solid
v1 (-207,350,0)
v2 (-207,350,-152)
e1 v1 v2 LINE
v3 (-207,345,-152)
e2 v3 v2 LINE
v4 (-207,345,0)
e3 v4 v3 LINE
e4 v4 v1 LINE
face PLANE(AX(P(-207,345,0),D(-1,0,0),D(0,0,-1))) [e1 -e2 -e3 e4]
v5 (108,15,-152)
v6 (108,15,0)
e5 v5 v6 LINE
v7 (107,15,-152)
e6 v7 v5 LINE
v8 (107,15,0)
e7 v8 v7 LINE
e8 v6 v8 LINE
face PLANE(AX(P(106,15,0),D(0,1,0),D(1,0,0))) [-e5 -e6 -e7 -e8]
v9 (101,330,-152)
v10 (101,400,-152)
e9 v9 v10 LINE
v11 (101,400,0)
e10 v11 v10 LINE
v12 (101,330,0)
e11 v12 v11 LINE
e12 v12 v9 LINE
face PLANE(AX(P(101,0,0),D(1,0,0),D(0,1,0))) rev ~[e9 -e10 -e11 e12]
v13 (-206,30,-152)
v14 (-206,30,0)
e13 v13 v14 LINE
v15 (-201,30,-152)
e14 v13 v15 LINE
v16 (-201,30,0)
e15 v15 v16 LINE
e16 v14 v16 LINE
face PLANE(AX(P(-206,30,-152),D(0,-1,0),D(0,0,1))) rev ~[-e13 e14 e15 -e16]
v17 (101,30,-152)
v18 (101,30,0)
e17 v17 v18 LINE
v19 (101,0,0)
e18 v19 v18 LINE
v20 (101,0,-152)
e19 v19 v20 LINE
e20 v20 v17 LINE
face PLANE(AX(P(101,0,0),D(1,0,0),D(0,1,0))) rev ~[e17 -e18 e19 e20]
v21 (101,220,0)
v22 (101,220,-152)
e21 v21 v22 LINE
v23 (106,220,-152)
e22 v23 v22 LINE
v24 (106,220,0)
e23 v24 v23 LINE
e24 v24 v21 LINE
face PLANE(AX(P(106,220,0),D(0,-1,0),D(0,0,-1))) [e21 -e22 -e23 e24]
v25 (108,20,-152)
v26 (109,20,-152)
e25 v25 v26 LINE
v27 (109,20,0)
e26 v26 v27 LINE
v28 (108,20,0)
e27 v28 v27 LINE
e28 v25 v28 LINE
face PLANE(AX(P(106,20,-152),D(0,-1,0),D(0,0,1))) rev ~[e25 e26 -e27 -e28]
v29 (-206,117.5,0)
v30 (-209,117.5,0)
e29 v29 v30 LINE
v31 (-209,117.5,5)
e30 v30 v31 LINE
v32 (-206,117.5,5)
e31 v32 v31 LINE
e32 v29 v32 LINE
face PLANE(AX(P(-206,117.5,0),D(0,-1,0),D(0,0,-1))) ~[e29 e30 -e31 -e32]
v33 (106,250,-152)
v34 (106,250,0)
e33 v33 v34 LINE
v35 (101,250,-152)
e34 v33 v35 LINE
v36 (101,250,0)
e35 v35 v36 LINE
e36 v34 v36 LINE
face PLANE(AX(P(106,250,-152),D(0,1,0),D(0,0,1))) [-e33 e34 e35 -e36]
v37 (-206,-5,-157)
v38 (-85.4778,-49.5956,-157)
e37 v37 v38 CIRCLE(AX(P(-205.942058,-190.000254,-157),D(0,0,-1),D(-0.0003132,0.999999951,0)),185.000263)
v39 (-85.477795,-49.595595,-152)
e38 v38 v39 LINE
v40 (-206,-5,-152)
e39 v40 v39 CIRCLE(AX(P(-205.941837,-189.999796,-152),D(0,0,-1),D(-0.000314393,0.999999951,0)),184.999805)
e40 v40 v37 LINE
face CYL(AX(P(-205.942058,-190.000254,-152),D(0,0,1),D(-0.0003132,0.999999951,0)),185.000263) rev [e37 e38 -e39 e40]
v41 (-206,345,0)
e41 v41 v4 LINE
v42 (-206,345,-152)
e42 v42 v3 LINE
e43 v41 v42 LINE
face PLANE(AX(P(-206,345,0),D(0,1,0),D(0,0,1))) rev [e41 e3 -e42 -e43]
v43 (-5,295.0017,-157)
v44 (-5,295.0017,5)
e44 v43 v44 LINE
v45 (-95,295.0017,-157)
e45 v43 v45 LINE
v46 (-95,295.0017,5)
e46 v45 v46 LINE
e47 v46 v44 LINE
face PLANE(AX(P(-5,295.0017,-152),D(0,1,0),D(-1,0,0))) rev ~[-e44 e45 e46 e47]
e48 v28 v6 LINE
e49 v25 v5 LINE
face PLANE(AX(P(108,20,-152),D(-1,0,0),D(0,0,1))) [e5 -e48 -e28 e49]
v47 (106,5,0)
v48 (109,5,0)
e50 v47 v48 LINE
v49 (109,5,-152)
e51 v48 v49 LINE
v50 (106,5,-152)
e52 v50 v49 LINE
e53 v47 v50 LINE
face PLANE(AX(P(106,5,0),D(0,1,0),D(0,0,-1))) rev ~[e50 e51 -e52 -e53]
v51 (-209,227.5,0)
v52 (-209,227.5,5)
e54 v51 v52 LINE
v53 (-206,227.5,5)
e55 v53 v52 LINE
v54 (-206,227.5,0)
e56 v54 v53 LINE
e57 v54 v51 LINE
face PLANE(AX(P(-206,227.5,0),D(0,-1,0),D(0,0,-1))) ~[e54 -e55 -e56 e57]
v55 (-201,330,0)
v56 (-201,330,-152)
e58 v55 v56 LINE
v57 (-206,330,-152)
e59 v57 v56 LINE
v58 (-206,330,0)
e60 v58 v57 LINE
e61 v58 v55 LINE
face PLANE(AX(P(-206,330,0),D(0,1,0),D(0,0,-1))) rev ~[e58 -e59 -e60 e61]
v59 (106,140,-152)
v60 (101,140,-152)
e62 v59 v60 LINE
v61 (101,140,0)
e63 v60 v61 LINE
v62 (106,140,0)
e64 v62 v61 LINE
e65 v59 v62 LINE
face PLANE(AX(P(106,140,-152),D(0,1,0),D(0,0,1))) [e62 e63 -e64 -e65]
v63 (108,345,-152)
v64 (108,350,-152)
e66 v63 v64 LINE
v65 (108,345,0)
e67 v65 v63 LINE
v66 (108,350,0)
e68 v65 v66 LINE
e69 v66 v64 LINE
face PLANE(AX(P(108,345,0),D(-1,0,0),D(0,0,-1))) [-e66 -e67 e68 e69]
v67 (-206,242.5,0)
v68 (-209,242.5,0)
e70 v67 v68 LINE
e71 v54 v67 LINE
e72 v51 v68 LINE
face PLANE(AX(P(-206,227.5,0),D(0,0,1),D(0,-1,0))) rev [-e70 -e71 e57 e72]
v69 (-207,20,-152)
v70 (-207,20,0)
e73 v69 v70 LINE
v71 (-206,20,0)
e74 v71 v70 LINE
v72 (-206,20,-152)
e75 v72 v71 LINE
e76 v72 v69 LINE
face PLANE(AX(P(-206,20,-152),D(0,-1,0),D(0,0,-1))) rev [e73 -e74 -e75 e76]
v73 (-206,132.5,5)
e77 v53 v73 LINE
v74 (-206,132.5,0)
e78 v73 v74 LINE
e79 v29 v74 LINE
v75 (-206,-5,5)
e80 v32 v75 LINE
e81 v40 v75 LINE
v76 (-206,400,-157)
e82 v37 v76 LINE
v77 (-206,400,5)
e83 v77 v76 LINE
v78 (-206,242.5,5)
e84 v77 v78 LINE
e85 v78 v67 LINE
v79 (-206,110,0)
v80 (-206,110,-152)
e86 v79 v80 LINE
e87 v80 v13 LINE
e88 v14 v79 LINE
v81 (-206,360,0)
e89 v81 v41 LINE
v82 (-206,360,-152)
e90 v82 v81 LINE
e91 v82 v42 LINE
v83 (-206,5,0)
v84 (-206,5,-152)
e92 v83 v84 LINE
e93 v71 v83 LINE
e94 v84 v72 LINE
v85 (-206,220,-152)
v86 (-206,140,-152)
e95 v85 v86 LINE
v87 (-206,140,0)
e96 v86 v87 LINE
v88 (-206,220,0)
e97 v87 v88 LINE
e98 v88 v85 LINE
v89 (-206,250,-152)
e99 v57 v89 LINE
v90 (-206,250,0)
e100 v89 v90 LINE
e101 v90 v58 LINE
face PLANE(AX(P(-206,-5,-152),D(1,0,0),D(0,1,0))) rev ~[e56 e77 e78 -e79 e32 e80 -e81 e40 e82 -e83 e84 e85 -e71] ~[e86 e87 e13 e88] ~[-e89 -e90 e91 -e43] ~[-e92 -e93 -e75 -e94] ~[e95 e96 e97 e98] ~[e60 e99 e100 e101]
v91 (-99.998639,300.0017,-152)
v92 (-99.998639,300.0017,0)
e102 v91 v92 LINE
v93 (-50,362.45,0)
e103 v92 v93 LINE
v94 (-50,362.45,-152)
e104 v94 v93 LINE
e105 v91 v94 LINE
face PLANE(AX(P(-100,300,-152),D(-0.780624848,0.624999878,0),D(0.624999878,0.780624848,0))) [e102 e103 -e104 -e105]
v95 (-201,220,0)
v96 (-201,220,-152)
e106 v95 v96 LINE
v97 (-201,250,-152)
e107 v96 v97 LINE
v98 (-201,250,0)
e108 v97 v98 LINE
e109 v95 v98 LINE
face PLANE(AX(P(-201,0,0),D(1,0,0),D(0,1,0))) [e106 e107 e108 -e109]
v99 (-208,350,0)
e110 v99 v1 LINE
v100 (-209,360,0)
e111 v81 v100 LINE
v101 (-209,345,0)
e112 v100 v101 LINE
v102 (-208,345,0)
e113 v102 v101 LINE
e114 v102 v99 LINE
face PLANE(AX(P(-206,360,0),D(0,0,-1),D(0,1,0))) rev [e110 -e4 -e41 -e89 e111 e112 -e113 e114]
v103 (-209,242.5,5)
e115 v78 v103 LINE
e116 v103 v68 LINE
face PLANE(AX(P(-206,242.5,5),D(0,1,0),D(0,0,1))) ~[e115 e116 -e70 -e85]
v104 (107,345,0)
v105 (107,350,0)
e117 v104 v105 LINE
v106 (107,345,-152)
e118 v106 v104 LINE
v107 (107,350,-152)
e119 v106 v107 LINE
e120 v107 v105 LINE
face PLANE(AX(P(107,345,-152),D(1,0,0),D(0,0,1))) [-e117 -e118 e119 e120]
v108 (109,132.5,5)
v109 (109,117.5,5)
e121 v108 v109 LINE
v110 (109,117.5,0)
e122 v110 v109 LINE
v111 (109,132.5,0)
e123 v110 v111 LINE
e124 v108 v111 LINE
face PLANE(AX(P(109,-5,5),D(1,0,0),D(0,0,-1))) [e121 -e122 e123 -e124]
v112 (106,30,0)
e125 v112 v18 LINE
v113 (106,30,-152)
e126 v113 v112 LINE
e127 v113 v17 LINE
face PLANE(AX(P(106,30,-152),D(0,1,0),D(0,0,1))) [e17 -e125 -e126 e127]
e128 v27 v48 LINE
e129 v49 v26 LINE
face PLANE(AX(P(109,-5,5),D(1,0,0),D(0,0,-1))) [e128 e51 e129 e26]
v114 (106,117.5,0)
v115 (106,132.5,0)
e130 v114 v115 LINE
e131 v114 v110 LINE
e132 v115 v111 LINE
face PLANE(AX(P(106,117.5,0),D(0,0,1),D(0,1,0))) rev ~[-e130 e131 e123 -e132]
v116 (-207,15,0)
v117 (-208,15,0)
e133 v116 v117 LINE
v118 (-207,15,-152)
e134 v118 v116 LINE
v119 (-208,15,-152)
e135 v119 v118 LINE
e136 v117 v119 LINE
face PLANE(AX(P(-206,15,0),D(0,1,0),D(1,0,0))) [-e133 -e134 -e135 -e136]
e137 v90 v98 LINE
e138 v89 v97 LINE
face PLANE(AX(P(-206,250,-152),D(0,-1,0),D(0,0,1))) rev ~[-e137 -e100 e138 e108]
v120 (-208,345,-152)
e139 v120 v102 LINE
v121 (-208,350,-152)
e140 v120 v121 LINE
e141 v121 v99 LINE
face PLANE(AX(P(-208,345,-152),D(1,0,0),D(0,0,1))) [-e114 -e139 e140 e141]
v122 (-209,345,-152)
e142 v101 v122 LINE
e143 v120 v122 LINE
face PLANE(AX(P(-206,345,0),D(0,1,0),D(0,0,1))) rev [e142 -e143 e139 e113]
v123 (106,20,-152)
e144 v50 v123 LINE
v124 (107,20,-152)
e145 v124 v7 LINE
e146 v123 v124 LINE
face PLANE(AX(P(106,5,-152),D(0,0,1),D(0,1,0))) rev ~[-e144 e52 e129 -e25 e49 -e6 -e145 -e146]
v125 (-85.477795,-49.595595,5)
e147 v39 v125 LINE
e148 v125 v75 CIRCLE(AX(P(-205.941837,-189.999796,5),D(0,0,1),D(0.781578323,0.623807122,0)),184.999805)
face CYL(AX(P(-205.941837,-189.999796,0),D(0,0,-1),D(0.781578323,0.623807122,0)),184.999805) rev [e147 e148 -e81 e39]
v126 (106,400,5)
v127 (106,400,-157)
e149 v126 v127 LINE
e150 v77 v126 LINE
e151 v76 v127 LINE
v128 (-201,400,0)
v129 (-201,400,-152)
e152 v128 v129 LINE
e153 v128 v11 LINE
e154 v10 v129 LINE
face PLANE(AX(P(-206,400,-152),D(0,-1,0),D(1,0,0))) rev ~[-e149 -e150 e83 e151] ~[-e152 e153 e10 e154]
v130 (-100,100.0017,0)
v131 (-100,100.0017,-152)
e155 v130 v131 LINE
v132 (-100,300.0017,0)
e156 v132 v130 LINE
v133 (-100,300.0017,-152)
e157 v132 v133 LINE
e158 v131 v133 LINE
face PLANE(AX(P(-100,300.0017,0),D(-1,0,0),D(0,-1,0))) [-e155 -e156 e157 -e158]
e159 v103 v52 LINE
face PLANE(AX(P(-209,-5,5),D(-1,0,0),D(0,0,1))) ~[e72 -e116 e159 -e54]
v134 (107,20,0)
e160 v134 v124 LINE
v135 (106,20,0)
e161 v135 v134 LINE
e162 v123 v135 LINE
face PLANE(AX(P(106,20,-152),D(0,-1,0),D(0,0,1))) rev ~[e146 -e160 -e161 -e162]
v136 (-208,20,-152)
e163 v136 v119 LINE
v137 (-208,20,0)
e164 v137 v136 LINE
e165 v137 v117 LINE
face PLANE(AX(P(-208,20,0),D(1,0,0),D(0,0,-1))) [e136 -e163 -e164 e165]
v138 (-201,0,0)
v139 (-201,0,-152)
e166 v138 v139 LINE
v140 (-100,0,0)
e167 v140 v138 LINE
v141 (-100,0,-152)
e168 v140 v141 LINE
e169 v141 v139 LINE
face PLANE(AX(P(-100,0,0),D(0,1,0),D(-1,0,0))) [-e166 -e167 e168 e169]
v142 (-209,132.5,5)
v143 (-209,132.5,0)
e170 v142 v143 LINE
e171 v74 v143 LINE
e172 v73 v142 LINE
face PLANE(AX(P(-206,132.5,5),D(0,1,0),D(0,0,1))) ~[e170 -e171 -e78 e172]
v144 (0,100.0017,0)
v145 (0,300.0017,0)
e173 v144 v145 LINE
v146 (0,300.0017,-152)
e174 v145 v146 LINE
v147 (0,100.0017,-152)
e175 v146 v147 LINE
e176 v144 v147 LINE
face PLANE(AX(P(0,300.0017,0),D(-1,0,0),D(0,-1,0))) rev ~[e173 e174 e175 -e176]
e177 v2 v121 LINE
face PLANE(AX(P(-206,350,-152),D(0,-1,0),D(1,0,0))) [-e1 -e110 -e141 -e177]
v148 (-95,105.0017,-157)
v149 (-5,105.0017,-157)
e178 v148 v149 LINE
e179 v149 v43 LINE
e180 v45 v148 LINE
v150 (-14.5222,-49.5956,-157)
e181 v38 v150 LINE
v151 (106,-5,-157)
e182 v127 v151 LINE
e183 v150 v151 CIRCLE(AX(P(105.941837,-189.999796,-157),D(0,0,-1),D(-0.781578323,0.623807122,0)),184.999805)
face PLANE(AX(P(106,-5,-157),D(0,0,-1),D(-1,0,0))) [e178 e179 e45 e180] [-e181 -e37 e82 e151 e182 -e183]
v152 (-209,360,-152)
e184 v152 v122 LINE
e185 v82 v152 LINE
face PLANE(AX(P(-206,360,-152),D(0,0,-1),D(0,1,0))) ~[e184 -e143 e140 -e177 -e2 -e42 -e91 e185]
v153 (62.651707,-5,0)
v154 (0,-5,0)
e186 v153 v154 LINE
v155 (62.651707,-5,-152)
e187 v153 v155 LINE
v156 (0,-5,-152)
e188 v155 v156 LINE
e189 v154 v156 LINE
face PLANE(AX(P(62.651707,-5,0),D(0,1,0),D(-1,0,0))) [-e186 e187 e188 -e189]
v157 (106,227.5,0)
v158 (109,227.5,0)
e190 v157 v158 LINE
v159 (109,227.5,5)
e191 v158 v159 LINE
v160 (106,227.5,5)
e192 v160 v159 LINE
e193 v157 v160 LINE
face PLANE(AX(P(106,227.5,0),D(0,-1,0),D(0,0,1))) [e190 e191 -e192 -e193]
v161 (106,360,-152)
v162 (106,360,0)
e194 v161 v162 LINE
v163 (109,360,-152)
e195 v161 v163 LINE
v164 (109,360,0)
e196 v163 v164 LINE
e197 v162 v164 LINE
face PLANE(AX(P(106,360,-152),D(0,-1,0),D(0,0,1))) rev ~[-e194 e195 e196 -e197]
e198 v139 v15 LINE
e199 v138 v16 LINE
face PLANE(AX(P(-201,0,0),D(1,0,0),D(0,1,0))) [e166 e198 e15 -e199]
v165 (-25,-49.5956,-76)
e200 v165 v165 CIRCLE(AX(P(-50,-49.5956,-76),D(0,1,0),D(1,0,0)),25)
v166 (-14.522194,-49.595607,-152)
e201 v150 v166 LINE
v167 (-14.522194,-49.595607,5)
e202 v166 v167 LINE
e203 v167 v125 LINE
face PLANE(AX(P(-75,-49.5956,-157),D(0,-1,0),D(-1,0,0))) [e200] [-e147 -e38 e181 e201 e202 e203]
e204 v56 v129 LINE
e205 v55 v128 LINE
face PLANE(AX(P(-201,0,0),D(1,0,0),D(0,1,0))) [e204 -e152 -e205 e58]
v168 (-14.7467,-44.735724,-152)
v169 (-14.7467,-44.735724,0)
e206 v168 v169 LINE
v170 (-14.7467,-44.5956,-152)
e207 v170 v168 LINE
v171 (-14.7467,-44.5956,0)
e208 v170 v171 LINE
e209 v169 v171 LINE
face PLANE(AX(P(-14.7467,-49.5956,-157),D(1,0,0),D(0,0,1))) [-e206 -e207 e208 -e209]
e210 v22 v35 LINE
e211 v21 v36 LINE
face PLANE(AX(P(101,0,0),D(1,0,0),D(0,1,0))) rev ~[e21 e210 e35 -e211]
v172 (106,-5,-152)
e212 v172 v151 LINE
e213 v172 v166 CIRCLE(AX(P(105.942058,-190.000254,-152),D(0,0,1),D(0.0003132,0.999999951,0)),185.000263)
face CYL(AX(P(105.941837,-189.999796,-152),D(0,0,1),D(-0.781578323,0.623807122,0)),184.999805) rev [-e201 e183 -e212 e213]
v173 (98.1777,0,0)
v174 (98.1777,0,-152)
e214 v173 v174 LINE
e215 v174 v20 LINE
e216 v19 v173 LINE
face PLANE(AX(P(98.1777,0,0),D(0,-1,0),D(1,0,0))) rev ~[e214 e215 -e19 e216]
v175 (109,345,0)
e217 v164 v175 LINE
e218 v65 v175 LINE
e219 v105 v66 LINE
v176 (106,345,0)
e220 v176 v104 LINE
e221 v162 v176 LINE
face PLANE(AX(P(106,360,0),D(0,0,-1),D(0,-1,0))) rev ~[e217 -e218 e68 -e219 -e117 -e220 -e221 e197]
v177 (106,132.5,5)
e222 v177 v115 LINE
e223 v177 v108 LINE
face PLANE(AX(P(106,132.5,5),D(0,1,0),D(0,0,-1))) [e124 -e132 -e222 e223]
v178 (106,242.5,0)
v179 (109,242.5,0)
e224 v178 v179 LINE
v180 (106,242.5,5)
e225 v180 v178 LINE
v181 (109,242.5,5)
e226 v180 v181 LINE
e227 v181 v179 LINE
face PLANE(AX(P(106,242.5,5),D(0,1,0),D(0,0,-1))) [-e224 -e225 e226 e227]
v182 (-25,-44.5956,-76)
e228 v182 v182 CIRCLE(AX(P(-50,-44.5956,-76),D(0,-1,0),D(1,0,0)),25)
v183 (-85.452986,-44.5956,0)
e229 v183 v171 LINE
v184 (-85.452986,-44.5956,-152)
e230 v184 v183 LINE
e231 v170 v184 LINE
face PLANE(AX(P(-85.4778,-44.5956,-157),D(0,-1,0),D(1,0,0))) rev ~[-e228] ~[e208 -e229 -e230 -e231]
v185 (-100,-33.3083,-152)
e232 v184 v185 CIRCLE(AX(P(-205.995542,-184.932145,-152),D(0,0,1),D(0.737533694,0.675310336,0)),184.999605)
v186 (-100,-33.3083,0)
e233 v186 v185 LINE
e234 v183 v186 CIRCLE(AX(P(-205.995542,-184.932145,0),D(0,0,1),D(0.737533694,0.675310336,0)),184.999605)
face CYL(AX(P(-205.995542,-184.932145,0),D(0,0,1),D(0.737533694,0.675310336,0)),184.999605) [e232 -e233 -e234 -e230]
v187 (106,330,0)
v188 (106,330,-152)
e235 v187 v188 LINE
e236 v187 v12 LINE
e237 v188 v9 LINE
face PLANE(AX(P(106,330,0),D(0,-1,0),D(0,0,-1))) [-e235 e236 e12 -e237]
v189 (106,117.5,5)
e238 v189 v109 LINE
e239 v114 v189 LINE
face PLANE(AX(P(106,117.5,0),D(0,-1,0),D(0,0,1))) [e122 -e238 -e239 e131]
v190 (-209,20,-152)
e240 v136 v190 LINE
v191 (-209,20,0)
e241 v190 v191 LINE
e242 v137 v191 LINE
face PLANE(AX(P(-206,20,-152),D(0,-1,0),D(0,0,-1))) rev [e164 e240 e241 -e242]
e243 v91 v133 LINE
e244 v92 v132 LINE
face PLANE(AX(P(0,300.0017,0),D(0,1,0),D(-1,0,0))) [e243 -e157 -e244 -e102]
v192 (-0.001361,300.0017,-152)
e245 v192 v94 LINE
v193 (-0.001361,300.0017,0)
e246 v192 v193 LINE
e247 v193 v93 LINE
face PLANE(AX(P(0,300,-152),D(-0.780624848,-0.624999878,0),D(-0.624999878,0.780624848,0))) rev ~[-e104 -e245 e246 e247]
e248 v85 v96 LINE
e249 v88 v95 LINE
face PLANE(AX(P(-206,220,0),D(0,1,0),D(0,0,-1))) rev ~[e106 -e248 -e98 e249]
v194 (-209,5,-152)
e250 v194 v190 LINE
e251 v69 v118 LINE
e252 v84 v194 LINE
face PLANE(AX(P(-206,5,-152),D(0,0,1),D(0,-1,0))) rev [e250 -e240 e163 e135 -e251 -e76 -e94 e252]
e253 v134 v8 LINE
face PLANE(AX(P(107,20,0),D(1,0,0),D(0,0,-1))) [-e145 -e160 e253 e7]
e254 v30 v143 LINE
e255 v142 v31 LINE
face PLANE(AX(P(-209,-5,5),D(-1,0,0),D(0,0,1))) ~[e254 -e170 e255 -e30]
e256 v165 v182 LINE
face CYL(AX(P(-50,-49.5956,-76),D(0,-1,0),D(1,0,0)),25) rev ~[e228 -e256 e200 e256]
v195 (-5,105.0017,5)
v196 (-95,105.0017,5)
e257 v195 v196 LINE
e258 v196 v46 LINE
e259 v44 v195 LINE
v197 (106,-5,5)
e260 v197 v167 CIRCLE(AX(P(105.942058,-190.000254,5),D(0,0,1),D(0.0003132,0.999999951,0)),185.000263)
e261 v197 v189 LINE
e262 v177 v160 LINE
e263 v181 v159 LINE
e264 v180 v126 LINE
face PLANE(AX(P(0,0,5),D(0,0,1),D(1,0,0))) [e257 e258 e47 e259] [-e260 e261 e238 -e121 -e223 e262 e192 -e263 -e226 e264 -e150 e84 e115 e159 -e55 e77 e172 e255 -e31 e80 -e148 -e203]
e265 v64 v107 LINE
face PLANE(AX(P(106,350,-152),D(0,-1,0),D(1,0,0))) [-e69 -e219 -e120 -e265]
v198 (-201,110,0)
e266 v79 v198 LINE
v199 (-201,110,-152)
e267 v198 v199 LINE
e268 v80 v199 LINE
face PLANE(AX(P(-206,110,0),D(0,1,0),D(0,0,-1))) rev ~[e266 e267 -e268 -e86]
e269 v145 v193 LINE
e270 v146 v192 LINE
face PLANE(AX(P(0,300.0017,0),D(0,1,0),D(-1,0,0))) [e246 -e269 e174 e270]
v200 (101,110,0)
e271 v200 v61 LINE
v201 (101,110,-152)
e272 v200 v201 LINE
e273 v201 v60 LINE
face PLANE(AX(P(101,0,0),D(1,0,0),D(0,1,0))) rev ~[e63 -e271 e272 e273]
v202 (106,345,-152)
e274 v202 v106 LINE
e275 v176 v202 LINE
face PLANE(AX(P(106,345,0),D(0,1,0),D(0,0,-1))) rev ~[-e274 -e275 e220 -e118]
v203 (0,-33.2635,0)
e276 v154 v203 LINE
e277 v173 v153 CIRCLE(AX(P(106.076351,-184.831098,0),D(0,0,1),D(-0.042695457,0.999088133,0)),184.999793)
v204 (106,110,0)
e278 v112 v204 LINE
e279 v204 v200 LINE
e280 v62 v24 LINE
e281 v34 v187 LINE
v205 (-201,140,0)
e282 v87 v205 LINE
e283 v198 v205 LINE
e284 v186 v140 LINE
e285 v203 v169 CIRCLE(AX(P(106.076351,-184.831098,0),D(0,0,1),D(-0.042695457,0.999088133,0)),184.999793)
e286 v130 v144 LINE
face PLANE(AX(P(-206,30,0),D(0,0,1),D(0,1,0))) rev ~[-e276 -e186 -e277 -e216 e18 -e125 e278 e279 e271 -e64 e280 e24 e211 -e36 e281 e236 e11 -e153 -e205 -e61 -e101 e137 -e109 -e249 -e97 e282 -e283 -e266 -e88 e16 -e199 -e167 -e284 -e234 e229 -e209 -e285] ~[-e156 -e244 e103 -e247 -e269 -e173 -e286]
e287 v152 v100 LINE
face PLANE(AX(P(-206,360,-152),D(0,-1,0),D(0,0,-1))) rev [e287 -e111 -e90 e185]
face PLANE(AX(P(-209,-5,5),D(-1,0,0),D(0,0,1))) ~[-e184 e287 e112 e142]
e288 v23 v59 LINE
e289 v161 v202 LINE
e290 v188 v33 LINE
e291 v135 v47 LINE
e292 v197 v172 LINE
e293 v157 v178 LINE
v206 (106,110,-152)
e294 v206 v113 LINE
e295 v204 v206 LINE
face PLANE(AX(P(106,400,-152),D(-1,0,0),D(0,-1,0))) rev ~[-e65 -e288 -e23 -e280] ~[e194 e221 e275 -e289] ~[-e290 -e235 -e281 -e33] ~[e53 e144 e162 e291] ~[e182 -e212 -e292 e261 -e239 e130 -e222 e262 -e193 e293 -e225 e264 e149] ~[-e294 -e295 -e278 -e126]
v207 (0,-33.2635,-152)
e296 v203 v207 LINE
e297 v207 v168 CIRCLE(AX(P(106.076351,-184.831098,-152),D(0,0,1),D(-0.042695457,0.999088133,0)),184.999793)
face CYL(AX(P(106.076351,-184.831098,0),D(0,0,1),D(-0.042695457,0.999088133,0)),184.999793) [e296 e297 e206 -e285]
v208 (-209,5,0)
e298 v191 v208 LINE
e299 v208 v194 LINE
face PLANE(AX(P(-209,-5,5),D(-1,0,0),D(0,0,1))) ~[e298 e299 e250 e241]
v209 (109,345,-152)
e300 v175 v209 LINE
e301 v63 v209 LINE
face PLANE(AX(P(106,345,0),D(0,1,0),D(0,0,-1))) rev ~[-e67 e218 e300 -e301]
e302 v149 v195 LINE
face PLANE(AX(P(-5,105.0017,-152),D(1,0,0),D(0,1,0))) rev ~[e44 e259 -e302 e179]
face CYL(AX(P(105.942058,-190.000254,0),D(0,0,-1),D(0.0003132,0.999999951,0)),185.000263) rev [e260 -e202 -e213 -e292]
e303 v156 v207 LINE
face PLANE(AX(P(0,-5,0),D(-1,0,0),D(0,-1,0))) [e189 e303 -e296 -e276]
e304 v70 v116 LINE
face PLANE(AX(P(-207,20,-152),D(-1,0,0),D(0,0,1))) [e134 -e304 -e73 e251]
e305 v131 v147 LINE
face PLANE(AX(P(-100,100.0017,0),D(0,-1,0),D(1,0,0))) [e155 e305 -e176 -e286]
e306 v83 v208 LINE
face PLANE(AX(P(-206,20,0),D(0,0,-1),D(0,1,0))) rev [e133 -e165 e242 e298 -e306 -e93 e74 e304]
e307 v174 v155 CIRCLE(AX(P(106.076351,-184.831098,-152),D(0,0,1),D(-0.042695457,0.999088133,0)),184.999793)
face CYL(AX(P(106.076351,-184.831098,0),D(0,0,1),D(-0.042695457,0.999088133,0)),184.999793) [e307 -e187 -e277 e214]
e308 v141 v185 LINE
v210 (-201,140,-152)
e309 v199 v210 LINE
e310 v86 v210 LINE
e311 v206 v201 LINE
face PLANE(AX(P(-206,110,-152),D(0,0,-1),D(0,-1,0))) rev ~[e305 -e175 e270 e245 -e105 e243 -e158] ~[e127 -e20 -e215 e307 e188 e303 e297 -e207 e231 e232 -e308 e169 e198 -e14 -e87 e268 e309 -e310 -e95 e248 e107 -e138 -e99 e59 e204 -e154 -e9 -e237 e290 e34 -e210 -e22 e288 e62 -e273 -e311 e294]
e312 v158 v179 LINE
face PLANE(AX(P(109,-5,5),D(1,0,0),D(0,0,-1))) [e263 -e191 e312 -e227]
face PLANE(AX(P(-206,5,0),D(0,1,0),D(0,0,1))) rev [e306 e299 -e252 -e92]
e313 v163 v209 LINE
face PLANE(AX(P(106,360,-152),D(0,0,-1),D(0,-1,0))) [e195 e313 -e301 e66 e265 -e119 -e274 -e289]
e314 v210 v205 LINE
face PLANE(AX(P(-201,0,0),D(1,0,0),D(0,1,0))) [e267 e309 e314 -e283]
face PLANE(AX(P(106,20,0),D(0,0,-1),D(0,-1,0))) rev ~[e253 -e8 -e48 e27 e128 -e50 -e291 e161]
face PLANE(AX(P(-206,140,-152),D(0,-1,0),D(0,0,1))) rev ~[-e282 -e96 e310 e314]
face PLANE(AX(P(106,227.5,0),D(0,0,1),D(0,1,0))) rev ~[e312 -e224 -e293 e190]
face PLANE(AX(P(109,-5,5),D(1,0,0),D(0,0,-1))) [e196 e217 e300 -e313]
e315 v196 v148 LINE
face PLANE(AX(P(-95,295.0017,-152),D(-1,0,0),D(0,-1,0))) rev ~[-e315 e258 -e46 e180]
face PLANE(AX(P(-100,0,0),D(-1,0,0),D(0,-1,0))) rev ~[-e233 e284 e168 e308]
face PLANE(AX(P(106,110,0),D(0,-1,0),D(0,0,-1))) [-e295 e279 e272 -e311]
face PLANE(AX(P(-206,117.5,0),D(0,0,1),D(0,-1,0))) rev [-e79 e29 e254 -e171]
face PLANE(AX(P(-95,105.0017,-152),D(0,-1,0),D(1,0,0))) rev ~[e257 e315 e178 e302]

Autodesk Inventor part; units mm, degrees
ref_plane "YZ Plane" through (0, 0, 0) normal (1, 0, 0) x (0, 1, 0)
sketch "Boceto1" plane through (0, 0, 0) normal (0, 0, 1) x (1, 0, 0)
  line L0 (0, 0) -> (100, 0)
  line L1 (0, 300.0017) -> (0, 100.0017)
  line L2 (0, 0) -> (101, 0)
  line L3 (101, 0) -> (101, 400)
  line L4 (101, 400) -> (0, 400)
  line L5 (0, 300.0017) -> (0, 100.0017)
  line L6 (0, 0) -> (98.1777, 0) construction
  line L7 (98.1777, 0) -> (98.1777, 330) construction
  line L8 (98.1777, 330) -> (0, 330) construction
  line L9 (0, 330) -> (0, 0) construction
  line L10 (0, 300.0017) -> (-100, 300.0017) construction
  line L11 (-100, 300.0017) -> (-100, 100.0017) construction
  line L12 (-100, 100.0017) -> (0, 100.0017) construction
  line L13 (0, 100.0017) -> (0, 300.0017) construction
  line L14 (0, 300.0017) -> (-100, 300.0017)
  line L15 (-100, 300.0017) -> (-100, 100.0017)
  line L16 (-100, 100.0017) -> (0, 100.0017)
  line L17 (0, 100.0017) -> (0, 300.0017)
  line L18 (-100, 0) -> (-201, 0)
  line L19 (-201, 0) -> (-201, 400)
  line L20 (-201, 400) -> (-100, 400)
  line L21 (-100, 300.0017) -> (-100, 100.0017)
  line L22 (-100, 0) -> (0, 0)
  line L23 (-100, 400) -> (0, 400)
  line L24 (-95, 105.0017) -> (-5, 105.0017)
  line L25 (-5, 105.0017) -> (-5, 295.0017)
  line L26 (-5, 295.0017) -> (-95, 295.0017)
  line L27 (-95, 295.0017) -> (-95, 105.0017)
  line L28 (106, 400) -> (106, -5)
  line L29 (106, -5) -> (-206, -5)
  line L30 (-206, -5) -> (-206, 400)
  line L31 (-206, 400) -> (-201, 400)
  line L32 (101, 400) -> (106, 400)
  line L33 (-100, 100.0017) -> (-100, 0) construction
  line L34 (-50, -5) -> (-50, -60) construction
  arc A0 (-61.35, -74.5956) -> (-206, -5) centre (-205.942, -190) ccw
  arc A1 (106, -5) -> (-38.65, -74.5956) centre (105.942, -190) ccw
  line L35 (-38.65, -74.5956) -> (-38.65, -69.5956)
  line L36 (-61.35, -74.5956) -> (-61.35, -69.5956)
  line L37 (-61.35, -69.5956) -> (-38.65, -69.5956)
  line L38 (-100, 0) -> (-100, -33.3083)
  line L39 (0, 0) -> (0, -33.2635)
  line L40 (-100, 400) -> (-100, 300.0017) construction
  line L41 (-69.5521, -60) -> (-30.4598, -60)
  line L42 (-50, -65) -> (-30.4399, -65)
  line L43 (-30.4399, -65) -> (-69.5601, -65)
  arc A2 (98.1777, 0) -> (-30.4598, -60) centre (106.0764, -184.8313) ccw
  arc A3 (-69.5521, -60) -> (-201, 0) centre (-205.9958, -184.9325) ccw
  point P0 (-162.9925, -5)
  point P1 (-100, -5)
  point P2 (62.6517, -5)
  point P3 (0, -5)
  dimension "d2" = 101
  dimension "d9" = 101
  dimension "d11" = 400
  dimension "d12" = 100
  dimension "d13" = 200
  dimension "d14" = 100
  dimension "d15" = 5
  dimension "d16" = 5
  dimension "d17" = 5
  dimension "d18" = 5
  dimension "d19" = 5
  dimension "d20" = 5
  dimension "d22" = 55
  dimension "d27" = 302
  dimension "d30" = 185
  dimension "d31" = 185
  dimension "d33" = 5
  dimension "d36" = 5
  dimension "d120" = 5
extrude "Extrusión1" add sketch "Boceto1" against normal blind 152 contours L30 L31 L19 A3 L29 | L0 L2 L3 L32 L28 L29 A2 | L38 L29 A3 L18 | L29 A2 L39 | L29 A1 L42 L43 A0 A3 L41 A2 | L38 A3 L29 | A1 L35 L37 L36 A0 L43 L42 | L1 L16 L15 L14
sketch "Boceto2" plane through (0, 0, 0) normal (0, 0, 1) x (1, 0, 0)
  line L0 (-206, 400) -> (-206, -5) projected
  line L1 (106, -5) -> (106, 400) projected
  arc A0 (106, -5) -> (-38.65, -74.5956) centre (105.942, -190) ccw projected
  arc A1 (-61.35, -74.5956) -> (-206, -5) centre (-205.942, -190) ccw projected
  line L2 (-61.35, -74.5956) -> (-38.65, -74.5956) projected
  line L3 (-206, 400) -> (106, 400)
  line L4 (-201, 0) -> (-201, 400) projected
  line L5 (0, 300.0017) -> (-100, 300.0017) projected
  line L6 (0, 100.0017) -> (0, 300.0017) projected
  line L7 (-95, 105.0017) -> (-95, 295.0017) projected
  line L8 (-5, 295.0017) -> (-5, 105.0017) projected
  line L9 (-5, 105.0017) -> (-95, 105.0017) projected
  line L10 (-95, 295.0017) -> (-5, 295.0017) projected
  point P0 (0, 0)
extrude "Extrusión2" add sketch "Boceto2" along normal blind 5
ref_plane "Plano de trabajo1" through (106, -5, -152) normal (0, 0, -1) x (-1, 0, 0)
sketch "Boceto5" plane through (106, -5, -152) normal (0, 0, -1) x (-1, 0, 0)
  line L0 (312, 0) -> (312, 405) projected
  line L1 (312, 405) -> (307, 405) projected
  line L2 (5, 405) -> (307, 405) projected
  line L3 (5, 405) -> (0, 405) projected
  line L4 (0, 405) -> (0, 0) projected
  arc A0 (144.65, -69.5956) -> (0, 0) centre (0.058, -185) ccw projected
  line L5 (144.65, -69.5956) -> (167.35, -69.5956)
  arc A1 (312, 0) -> (167.35, -69.5956) centre (311.942, -185) ccw projected
  line L6 (201, 110.0017) -> (111, 110.0017) projected
  line L7 (111, 110.0017) -> (111, 300.0017) projected
  line L8 (111, 300.0017) -> (201, 300.0017) projected
  line L9 (201, 300.0017) -> (201, 110.0017) projected
  point P0 (106, 5)
extrude "Extrusión3" add sketch "Boceto5" along normal blind 5
sketch "Boceto7" plane through (-206, -5, 5) normal (-1, 0, 0) x (0, 0, 1)
  line L0 (-162, 0) -> (0, 0) construction
  line L1 (-81, 0) -> (-81, 5) construction
  line L2 (-81, 5) -> (-81, 35) construction
  line L3 (-81, 35) -> (-81, 115) construction
  line L4 (-81, 115) -> (-81, 145) construction
  line L5 (-81, 145) -> (-81, 225) construction
  line L6 (-81, 225) -> (-81, 255) construction
  line L7 (-81, 255) -> (-81, 335) construction
  line L8 (-157, 35) -> (-5, 35)
  line L9 (-5, 35) -> (-5, 115)
  line L10 (-5, 115) -> (-157, 115)
  line L11 (-157, 115) -> (-157, 35)
  line L12 (0, 405) -> (0, 0) projected
  line L13 (-162, 0) -> (-162, 405) projected
  line L14 (-5, 225) -> (-157, 225)
  line L15 (-157, 225) -> (-157, 145)
  line L16 (-157, 145) -> (-5, 145)
  line L17 (-5, 145) -> (-5, 225)
  line L18 (-5, 335) -> (-157, 335)
  line L19 (-157, 335) -> (-157, 255)
  line L20 (-157, 255) -> (-5, 255)
  line L21 (-5, 255) -> (-5, 335)
  point P0 (-5, 5)
  dimension "d47" = 5
  dimension "d48" = 30
  dimension "d49" = 80
  dimension "d50" = 30
  dimension "d51" = 80
  dimension "d52" = 30
  dimension "d53" = 80
  dimension "d54" = 5
  dimension "d55" = 5
  dimension "d58" = 110
sketch "Boceto8" plane through (106, -5, 5) normal (1, 0, 0) x (0, 0, -1)
  line L0 (5, 335) -> (157, 335) projected
  line L1 (157, 335) -> (157, 255) projected
  line L2 (157, 255) -> (5, 255) projected
  line L3 (5, 255) -> (5, 335) projected
  line L4 (5, 225) -> (157, 225) projected
  line L5 (157, 225) -> (157, 145) projected
  line L6 (157, 145) -> (5, 145) projected
  line L7 (5, 145) -> (5, 225) projected
  line L8 (5, 115) -> (157, 115) projected
  line L9 (157, 115) -> (157, 35) projected
  line L10 (157, 35) -> (5, 35) projected
  line L11 (5, 35) -> (5, 115) projected
  point P0 (5, 5)
extrude "Extrusión5" cut sketch "Boceto7" against normal blind 5
extrude "Extrusión6" cut sketch "Boceto8" against normal blind 5
sketch "Boceto9" plane through (106, -5, -152) normal (0, 0, 1) x (1, 0, 0)
  line L0 (0, 405) -> (0, 0) construction
  line L1 (0, 372.4568) -> (-312, 372.4568) construction
  line L2 (-312, 0) -> (-312, 405) construction
  line L3 (-156, 372.4568) -> (-156, 300.0017) construction
  line L4 (-111, 300.0017) -> (-201, 300.0017) construction
  line L5 (-312, 405) -> (0, 405) construction
  line L6 (-156, 405) -> (-156, 385) construction
  line L7 (-106, 405) -> (-106, 305) construction
  line L8 (-106, 305) -> (-206, 305) construction
  line L9 (-206, 305) -> (-106, 305)
  line L10 (-206, 305) -> (-156, 367.45)
  line L11 (-106, 305) -> (-156, 367.45)
  point P0 (-106, 5)
  dimension "d71" = 20
  dimension "d72" = 100
  dimension "d73" = 80
extrude "Extrusión7" add sketch "Boceto9" along normal blind 152
sketch "Boceto11" plane through (106, -5, 5) normal (1, 0, 0) x (0, 0, -1)
  line L0 (157, 405) -> (157, 335) projected
  line L1 (5, 350) -> (157, 350)
  line L2 (157, 350) -> (157, 365)
  line L3 (157, 365) -> (5, 365)
  line L4 (5, 365) -> (5, 350)
  line L5 (5, 105.0017) -> (5, 305.0017) projected
  line L6 (5, 10) -> (157, 10)
  line L7 (157, 10) -> (157, 25)
  line L8 (157, 25) -> (5, 25)
  line L9 (5, 25) -> (5, 10)
  line L10 (162, 405) -> (0, 405) projected
  line L11 (157, 35) -> (5, 35) projected
  line L12 (0, 405) -> (0, 0) projected
  line L13 (5, 122.5) -> (0, 122.5)
  line L14 (0, 122.5) -> (0, 137.5)
  line L15 (0, 137.5) -> (5, 137.5)
  line L16 (5, 137.5) -> (5, 122.5)
  line L17 (5, 232.5) -> (0, 232.5)
  line L18 (0, 232.5) -> (0, 247.5)
  line L19 (0, 247.5) -> (5, 247.5)
  line L20 (5, 247.5) -> (5, 232.5)
  line L21 (157, 255) -> (5, 255) projected
  line L22 (5, 225) -> (157, 225) projected
  line L23 (157, 145) -> (5, 145) projected
  line L24 (5, 115) -> (157, 115) projected
  point P0 (5, 5)
  dimension "d79" = 152
  dimension "d80" = 40
  dimension "d81" = 15
  dimension "d84" = 15
  dimension "d89" = 10
  dimension "d92" = 7.5
  dimension "d93" = 7.5
  dimension "d94" = 7.5
  dimension "d95" = 7.5
extrude "Extrusión8" add sketch "Boceto11" along normal blind 3 contours L0 L1 L4 L3 | L19 L5 L17 L12 | L15 L5 L13 L12 | L9 L8 L7 L6
sketch "Boceto12" plane through (106, 345, -152) normal (0, -1, 0) x (1, 0, 0)
  line L0 (1, 152) -> (2, 152)
  line L1 (2, 152) -> (2, 0)
  line L2 (2, 0) -> (1, 0)
  line L3 (1, 0) -> (1, 152)
  line L4 (0, 152) -> (0, 0) projected
  line L5 (0, 152) -> (3, 152) projected
  line L6 (0, 0) -> (3, 0) projected
  point P0 (-106, 152)
  dimension "d96" = 1
  dimension "d97" = 1
  dimension "d98" = 0
  dimension "d99" = 0
extrude "Extrusión9" cut sketch "Boceto12" against normal blind 5 contours L0 L1 L2 L3
sketch "Boceto13" plane through (106, 20, 0) normal (0, 1, 0) x (1, 0, 0)
  line L0 (2, 0) -> (1, 0)
  line L1 (1, 0) -> (1, 152)
  line L2 (1, 152) -> (2, 152)
  line L3 (2, 152) -> (2, 0)
  line L4 (0, 0) -> (3, 0) projected
  line L5 (0, 0) -> (0, 152) projected
  line L6 (0, 152) -> (3, 152) projected
  point P0 (-106, 0)
  dimension "d102" = 0
  dimension "d103" = 1
  dimension "d104" = 1
  dimension "d105" = 0
extrude "Extrusión10" cut sketch "Boceto13" against normal blind 5 contours L0 L1 L2 L3
ref_plane "Plano de trabajo2" through (-50, -5, -157) normal (1, 0, 0) x (0, 0, -1)
mirror "Simetría1" about plane through (-50, -5, -157) normal (1, 0, 0) of "Extrusión8"
sketch "Boceto14" plane through (-206, 20, 0) normal (0, 1, 0) x (1, 0, 0)
  line L0 (-2, 152) -> (-1, 152)
  line L1 (-1, 152) -> (-1, 0)
  line L2 (-1, 0) -> (-2, 0)
  line L3 (-2, 0) -> (-2, 152)
  line L4 (0, 152) -> (-3, 152) projected
  line L5 (-3, 152) -> (-3, 0) projected
  line L6 (0, 0) -> (-3, 0) projected
  point P0 (206, 0)
  dimension "d108" = 0
  dimension "d109" = 1
  dimension "d110" = 1
  dimension "d111" = 0
extrude "Extrusión11" cut sketch "Boceto14" against normal blind 5 contours L0 L1 L2 L3
sketch "Boceto15" plane through (-206, 345, -152) normal (0, -1, 0) x (1, 0, 0)
  line L0 (-1, 0) -> (-2, 0)
  line L1 (-2, 0) -> (-2, 152)
  line L2 (-2, 152) -> (-1, 152)
  line L3 (-1, 152) -> (-1, 0)
  line L4 (0, 0) -> (-3, 0) projected
  line L5 (-3, 0) -> (-3, 152) projected
  line L6 (0, 152) -> (-3, 152) projected
  point P0 (206, 152)
  dimension "d114" = 0
  dimension "d115" = 1
  dimension "d116" = 1
  dimension "d117" = 0
extrude "Extrusión12" cut sketch "Boceto15" against normal blind 5 contours L0 L1 L2 L3
sketch "Sketch16" plane through (-61.35, -69.5956, 0) normal (0, -1, 0) x (1, 0, 0)
  line L0 (11.35, -152) -> (11.35, 0) projected
  circle A0 centre (11.35, -76) radius 15
  point P0 (61.35, 0)
  dimension "d121" = 30
extrude "Extrusion13" cut sketch "Sketch16" along normal mid plane 30
sketch "Sketch17" plane through (106, -5, -157) normal (0, 0, -1) x (-1, 0, 0)
  line L0 (131, -44.5956) -> (120.5222, -44.5956)
  arc A0 (144.65, -69.5956) -> (0, 0) centre (0.058, -185) ccw projected
  line L1 (181, -44.5956) -> (191.4778, -44.5956)
  arc A1 (312, 0) -> (167.35, -69.5956) centre (311.942, -185) ccw projected
  line L2 (191.4778, -44.5956) -> (120.5218, -44.5956)
  line L3 (120.5218, -44.5956) -> (120.5218, -69.5956)
  line L4 (120.5218, -69.5956) -> (191.4778, -69.5956)
  line L5 (191.4778, -69.5956) -> (191.4778, -44.5956)
  line L6 (167.35, -69.5956) -> (144.65, -69.5956) projected
  line L7 (156, -69.5956) -> (120.5218, -69.5956)
  line L8 (167.35, -69.5956) -> (144.65, -69.5956) projected
  point P0 (106, 5)
  point P1 (155.7098, -69.5956)
  point P2 (144.65, -69.5956)
  point P3 (167.35, -69.5956)
  dimension "d124" = 50
  dimension "d134" = 25
  dimension "d135" = 70.956
  dimension "d136" = 35.4778
  dimension "d137" = 35.188
extrude "Extrusion14" cut sketch "Sketch17" against normal blind 200 contours L2 L1 A1 L4 A0 L0
sketch "Sketch18" plane through (-85.4778, -49.5956, -157) normal (0, -1, 0) x (1, 0, 0)
  point P0 (85.4778, 157)
sketch "Sketch19" plane through (-85.4778, -49.5956, -157) normal (0, -1, 0) x (1, 0, 0)
  line L0 (191.4778, 162) -> (-120.5222, 162) projected
  line L1 (0, 0) -> (-120.5222, 0) projected
  line L2 (70.7311, 162) -> (0, 162)
  line L3 (0, 162) -> (0, 0)
  line L4 (0, 0) -> (70.7311, 0)
  line L5 (70.7311, 0) -> (70.7311, 162)
  point P0 (85.4778, 157)
extrude "Extrusion15" add sketch "Sketch19" against normal blind 5
sketch "Sketch20" plane through (-85.4778, -49.5956, -157) normal (0, -1, 0) x (1, 0, 0)
  circle A0 centre (35.4778, 81) radius 25
  line L0 (70.9556, 0) -> (0, 0) projected
  line L1 (0, 162) -> (70.9556, 162) projected
  line L2 (191.4778, 162) -> (-120.5222, 162) projected
  line L3 (35.4778, 162) -> (35.4778, 81)
  line L4 (35.4778, 5) -> (35.4778, 157) projected
  point P0 (85.4778, 157)
  dimension "d129" = 50
  dimension "d138" = 162
  dimension "d139" = 81
extrude "Extrusion16" cut sketch "Sketch20" against normal blind 10
equation "\"d16\" = d15"
equation "\"d17\" = d15"
equation "\"d18\" = d15"
equation "\"d19\" = d15"
equation "\"d20\" = d15"
equation "\"d31\" = d30"
equation "\"d84\" = d81"
properties part number "Contenedor" material "Acrylic"
